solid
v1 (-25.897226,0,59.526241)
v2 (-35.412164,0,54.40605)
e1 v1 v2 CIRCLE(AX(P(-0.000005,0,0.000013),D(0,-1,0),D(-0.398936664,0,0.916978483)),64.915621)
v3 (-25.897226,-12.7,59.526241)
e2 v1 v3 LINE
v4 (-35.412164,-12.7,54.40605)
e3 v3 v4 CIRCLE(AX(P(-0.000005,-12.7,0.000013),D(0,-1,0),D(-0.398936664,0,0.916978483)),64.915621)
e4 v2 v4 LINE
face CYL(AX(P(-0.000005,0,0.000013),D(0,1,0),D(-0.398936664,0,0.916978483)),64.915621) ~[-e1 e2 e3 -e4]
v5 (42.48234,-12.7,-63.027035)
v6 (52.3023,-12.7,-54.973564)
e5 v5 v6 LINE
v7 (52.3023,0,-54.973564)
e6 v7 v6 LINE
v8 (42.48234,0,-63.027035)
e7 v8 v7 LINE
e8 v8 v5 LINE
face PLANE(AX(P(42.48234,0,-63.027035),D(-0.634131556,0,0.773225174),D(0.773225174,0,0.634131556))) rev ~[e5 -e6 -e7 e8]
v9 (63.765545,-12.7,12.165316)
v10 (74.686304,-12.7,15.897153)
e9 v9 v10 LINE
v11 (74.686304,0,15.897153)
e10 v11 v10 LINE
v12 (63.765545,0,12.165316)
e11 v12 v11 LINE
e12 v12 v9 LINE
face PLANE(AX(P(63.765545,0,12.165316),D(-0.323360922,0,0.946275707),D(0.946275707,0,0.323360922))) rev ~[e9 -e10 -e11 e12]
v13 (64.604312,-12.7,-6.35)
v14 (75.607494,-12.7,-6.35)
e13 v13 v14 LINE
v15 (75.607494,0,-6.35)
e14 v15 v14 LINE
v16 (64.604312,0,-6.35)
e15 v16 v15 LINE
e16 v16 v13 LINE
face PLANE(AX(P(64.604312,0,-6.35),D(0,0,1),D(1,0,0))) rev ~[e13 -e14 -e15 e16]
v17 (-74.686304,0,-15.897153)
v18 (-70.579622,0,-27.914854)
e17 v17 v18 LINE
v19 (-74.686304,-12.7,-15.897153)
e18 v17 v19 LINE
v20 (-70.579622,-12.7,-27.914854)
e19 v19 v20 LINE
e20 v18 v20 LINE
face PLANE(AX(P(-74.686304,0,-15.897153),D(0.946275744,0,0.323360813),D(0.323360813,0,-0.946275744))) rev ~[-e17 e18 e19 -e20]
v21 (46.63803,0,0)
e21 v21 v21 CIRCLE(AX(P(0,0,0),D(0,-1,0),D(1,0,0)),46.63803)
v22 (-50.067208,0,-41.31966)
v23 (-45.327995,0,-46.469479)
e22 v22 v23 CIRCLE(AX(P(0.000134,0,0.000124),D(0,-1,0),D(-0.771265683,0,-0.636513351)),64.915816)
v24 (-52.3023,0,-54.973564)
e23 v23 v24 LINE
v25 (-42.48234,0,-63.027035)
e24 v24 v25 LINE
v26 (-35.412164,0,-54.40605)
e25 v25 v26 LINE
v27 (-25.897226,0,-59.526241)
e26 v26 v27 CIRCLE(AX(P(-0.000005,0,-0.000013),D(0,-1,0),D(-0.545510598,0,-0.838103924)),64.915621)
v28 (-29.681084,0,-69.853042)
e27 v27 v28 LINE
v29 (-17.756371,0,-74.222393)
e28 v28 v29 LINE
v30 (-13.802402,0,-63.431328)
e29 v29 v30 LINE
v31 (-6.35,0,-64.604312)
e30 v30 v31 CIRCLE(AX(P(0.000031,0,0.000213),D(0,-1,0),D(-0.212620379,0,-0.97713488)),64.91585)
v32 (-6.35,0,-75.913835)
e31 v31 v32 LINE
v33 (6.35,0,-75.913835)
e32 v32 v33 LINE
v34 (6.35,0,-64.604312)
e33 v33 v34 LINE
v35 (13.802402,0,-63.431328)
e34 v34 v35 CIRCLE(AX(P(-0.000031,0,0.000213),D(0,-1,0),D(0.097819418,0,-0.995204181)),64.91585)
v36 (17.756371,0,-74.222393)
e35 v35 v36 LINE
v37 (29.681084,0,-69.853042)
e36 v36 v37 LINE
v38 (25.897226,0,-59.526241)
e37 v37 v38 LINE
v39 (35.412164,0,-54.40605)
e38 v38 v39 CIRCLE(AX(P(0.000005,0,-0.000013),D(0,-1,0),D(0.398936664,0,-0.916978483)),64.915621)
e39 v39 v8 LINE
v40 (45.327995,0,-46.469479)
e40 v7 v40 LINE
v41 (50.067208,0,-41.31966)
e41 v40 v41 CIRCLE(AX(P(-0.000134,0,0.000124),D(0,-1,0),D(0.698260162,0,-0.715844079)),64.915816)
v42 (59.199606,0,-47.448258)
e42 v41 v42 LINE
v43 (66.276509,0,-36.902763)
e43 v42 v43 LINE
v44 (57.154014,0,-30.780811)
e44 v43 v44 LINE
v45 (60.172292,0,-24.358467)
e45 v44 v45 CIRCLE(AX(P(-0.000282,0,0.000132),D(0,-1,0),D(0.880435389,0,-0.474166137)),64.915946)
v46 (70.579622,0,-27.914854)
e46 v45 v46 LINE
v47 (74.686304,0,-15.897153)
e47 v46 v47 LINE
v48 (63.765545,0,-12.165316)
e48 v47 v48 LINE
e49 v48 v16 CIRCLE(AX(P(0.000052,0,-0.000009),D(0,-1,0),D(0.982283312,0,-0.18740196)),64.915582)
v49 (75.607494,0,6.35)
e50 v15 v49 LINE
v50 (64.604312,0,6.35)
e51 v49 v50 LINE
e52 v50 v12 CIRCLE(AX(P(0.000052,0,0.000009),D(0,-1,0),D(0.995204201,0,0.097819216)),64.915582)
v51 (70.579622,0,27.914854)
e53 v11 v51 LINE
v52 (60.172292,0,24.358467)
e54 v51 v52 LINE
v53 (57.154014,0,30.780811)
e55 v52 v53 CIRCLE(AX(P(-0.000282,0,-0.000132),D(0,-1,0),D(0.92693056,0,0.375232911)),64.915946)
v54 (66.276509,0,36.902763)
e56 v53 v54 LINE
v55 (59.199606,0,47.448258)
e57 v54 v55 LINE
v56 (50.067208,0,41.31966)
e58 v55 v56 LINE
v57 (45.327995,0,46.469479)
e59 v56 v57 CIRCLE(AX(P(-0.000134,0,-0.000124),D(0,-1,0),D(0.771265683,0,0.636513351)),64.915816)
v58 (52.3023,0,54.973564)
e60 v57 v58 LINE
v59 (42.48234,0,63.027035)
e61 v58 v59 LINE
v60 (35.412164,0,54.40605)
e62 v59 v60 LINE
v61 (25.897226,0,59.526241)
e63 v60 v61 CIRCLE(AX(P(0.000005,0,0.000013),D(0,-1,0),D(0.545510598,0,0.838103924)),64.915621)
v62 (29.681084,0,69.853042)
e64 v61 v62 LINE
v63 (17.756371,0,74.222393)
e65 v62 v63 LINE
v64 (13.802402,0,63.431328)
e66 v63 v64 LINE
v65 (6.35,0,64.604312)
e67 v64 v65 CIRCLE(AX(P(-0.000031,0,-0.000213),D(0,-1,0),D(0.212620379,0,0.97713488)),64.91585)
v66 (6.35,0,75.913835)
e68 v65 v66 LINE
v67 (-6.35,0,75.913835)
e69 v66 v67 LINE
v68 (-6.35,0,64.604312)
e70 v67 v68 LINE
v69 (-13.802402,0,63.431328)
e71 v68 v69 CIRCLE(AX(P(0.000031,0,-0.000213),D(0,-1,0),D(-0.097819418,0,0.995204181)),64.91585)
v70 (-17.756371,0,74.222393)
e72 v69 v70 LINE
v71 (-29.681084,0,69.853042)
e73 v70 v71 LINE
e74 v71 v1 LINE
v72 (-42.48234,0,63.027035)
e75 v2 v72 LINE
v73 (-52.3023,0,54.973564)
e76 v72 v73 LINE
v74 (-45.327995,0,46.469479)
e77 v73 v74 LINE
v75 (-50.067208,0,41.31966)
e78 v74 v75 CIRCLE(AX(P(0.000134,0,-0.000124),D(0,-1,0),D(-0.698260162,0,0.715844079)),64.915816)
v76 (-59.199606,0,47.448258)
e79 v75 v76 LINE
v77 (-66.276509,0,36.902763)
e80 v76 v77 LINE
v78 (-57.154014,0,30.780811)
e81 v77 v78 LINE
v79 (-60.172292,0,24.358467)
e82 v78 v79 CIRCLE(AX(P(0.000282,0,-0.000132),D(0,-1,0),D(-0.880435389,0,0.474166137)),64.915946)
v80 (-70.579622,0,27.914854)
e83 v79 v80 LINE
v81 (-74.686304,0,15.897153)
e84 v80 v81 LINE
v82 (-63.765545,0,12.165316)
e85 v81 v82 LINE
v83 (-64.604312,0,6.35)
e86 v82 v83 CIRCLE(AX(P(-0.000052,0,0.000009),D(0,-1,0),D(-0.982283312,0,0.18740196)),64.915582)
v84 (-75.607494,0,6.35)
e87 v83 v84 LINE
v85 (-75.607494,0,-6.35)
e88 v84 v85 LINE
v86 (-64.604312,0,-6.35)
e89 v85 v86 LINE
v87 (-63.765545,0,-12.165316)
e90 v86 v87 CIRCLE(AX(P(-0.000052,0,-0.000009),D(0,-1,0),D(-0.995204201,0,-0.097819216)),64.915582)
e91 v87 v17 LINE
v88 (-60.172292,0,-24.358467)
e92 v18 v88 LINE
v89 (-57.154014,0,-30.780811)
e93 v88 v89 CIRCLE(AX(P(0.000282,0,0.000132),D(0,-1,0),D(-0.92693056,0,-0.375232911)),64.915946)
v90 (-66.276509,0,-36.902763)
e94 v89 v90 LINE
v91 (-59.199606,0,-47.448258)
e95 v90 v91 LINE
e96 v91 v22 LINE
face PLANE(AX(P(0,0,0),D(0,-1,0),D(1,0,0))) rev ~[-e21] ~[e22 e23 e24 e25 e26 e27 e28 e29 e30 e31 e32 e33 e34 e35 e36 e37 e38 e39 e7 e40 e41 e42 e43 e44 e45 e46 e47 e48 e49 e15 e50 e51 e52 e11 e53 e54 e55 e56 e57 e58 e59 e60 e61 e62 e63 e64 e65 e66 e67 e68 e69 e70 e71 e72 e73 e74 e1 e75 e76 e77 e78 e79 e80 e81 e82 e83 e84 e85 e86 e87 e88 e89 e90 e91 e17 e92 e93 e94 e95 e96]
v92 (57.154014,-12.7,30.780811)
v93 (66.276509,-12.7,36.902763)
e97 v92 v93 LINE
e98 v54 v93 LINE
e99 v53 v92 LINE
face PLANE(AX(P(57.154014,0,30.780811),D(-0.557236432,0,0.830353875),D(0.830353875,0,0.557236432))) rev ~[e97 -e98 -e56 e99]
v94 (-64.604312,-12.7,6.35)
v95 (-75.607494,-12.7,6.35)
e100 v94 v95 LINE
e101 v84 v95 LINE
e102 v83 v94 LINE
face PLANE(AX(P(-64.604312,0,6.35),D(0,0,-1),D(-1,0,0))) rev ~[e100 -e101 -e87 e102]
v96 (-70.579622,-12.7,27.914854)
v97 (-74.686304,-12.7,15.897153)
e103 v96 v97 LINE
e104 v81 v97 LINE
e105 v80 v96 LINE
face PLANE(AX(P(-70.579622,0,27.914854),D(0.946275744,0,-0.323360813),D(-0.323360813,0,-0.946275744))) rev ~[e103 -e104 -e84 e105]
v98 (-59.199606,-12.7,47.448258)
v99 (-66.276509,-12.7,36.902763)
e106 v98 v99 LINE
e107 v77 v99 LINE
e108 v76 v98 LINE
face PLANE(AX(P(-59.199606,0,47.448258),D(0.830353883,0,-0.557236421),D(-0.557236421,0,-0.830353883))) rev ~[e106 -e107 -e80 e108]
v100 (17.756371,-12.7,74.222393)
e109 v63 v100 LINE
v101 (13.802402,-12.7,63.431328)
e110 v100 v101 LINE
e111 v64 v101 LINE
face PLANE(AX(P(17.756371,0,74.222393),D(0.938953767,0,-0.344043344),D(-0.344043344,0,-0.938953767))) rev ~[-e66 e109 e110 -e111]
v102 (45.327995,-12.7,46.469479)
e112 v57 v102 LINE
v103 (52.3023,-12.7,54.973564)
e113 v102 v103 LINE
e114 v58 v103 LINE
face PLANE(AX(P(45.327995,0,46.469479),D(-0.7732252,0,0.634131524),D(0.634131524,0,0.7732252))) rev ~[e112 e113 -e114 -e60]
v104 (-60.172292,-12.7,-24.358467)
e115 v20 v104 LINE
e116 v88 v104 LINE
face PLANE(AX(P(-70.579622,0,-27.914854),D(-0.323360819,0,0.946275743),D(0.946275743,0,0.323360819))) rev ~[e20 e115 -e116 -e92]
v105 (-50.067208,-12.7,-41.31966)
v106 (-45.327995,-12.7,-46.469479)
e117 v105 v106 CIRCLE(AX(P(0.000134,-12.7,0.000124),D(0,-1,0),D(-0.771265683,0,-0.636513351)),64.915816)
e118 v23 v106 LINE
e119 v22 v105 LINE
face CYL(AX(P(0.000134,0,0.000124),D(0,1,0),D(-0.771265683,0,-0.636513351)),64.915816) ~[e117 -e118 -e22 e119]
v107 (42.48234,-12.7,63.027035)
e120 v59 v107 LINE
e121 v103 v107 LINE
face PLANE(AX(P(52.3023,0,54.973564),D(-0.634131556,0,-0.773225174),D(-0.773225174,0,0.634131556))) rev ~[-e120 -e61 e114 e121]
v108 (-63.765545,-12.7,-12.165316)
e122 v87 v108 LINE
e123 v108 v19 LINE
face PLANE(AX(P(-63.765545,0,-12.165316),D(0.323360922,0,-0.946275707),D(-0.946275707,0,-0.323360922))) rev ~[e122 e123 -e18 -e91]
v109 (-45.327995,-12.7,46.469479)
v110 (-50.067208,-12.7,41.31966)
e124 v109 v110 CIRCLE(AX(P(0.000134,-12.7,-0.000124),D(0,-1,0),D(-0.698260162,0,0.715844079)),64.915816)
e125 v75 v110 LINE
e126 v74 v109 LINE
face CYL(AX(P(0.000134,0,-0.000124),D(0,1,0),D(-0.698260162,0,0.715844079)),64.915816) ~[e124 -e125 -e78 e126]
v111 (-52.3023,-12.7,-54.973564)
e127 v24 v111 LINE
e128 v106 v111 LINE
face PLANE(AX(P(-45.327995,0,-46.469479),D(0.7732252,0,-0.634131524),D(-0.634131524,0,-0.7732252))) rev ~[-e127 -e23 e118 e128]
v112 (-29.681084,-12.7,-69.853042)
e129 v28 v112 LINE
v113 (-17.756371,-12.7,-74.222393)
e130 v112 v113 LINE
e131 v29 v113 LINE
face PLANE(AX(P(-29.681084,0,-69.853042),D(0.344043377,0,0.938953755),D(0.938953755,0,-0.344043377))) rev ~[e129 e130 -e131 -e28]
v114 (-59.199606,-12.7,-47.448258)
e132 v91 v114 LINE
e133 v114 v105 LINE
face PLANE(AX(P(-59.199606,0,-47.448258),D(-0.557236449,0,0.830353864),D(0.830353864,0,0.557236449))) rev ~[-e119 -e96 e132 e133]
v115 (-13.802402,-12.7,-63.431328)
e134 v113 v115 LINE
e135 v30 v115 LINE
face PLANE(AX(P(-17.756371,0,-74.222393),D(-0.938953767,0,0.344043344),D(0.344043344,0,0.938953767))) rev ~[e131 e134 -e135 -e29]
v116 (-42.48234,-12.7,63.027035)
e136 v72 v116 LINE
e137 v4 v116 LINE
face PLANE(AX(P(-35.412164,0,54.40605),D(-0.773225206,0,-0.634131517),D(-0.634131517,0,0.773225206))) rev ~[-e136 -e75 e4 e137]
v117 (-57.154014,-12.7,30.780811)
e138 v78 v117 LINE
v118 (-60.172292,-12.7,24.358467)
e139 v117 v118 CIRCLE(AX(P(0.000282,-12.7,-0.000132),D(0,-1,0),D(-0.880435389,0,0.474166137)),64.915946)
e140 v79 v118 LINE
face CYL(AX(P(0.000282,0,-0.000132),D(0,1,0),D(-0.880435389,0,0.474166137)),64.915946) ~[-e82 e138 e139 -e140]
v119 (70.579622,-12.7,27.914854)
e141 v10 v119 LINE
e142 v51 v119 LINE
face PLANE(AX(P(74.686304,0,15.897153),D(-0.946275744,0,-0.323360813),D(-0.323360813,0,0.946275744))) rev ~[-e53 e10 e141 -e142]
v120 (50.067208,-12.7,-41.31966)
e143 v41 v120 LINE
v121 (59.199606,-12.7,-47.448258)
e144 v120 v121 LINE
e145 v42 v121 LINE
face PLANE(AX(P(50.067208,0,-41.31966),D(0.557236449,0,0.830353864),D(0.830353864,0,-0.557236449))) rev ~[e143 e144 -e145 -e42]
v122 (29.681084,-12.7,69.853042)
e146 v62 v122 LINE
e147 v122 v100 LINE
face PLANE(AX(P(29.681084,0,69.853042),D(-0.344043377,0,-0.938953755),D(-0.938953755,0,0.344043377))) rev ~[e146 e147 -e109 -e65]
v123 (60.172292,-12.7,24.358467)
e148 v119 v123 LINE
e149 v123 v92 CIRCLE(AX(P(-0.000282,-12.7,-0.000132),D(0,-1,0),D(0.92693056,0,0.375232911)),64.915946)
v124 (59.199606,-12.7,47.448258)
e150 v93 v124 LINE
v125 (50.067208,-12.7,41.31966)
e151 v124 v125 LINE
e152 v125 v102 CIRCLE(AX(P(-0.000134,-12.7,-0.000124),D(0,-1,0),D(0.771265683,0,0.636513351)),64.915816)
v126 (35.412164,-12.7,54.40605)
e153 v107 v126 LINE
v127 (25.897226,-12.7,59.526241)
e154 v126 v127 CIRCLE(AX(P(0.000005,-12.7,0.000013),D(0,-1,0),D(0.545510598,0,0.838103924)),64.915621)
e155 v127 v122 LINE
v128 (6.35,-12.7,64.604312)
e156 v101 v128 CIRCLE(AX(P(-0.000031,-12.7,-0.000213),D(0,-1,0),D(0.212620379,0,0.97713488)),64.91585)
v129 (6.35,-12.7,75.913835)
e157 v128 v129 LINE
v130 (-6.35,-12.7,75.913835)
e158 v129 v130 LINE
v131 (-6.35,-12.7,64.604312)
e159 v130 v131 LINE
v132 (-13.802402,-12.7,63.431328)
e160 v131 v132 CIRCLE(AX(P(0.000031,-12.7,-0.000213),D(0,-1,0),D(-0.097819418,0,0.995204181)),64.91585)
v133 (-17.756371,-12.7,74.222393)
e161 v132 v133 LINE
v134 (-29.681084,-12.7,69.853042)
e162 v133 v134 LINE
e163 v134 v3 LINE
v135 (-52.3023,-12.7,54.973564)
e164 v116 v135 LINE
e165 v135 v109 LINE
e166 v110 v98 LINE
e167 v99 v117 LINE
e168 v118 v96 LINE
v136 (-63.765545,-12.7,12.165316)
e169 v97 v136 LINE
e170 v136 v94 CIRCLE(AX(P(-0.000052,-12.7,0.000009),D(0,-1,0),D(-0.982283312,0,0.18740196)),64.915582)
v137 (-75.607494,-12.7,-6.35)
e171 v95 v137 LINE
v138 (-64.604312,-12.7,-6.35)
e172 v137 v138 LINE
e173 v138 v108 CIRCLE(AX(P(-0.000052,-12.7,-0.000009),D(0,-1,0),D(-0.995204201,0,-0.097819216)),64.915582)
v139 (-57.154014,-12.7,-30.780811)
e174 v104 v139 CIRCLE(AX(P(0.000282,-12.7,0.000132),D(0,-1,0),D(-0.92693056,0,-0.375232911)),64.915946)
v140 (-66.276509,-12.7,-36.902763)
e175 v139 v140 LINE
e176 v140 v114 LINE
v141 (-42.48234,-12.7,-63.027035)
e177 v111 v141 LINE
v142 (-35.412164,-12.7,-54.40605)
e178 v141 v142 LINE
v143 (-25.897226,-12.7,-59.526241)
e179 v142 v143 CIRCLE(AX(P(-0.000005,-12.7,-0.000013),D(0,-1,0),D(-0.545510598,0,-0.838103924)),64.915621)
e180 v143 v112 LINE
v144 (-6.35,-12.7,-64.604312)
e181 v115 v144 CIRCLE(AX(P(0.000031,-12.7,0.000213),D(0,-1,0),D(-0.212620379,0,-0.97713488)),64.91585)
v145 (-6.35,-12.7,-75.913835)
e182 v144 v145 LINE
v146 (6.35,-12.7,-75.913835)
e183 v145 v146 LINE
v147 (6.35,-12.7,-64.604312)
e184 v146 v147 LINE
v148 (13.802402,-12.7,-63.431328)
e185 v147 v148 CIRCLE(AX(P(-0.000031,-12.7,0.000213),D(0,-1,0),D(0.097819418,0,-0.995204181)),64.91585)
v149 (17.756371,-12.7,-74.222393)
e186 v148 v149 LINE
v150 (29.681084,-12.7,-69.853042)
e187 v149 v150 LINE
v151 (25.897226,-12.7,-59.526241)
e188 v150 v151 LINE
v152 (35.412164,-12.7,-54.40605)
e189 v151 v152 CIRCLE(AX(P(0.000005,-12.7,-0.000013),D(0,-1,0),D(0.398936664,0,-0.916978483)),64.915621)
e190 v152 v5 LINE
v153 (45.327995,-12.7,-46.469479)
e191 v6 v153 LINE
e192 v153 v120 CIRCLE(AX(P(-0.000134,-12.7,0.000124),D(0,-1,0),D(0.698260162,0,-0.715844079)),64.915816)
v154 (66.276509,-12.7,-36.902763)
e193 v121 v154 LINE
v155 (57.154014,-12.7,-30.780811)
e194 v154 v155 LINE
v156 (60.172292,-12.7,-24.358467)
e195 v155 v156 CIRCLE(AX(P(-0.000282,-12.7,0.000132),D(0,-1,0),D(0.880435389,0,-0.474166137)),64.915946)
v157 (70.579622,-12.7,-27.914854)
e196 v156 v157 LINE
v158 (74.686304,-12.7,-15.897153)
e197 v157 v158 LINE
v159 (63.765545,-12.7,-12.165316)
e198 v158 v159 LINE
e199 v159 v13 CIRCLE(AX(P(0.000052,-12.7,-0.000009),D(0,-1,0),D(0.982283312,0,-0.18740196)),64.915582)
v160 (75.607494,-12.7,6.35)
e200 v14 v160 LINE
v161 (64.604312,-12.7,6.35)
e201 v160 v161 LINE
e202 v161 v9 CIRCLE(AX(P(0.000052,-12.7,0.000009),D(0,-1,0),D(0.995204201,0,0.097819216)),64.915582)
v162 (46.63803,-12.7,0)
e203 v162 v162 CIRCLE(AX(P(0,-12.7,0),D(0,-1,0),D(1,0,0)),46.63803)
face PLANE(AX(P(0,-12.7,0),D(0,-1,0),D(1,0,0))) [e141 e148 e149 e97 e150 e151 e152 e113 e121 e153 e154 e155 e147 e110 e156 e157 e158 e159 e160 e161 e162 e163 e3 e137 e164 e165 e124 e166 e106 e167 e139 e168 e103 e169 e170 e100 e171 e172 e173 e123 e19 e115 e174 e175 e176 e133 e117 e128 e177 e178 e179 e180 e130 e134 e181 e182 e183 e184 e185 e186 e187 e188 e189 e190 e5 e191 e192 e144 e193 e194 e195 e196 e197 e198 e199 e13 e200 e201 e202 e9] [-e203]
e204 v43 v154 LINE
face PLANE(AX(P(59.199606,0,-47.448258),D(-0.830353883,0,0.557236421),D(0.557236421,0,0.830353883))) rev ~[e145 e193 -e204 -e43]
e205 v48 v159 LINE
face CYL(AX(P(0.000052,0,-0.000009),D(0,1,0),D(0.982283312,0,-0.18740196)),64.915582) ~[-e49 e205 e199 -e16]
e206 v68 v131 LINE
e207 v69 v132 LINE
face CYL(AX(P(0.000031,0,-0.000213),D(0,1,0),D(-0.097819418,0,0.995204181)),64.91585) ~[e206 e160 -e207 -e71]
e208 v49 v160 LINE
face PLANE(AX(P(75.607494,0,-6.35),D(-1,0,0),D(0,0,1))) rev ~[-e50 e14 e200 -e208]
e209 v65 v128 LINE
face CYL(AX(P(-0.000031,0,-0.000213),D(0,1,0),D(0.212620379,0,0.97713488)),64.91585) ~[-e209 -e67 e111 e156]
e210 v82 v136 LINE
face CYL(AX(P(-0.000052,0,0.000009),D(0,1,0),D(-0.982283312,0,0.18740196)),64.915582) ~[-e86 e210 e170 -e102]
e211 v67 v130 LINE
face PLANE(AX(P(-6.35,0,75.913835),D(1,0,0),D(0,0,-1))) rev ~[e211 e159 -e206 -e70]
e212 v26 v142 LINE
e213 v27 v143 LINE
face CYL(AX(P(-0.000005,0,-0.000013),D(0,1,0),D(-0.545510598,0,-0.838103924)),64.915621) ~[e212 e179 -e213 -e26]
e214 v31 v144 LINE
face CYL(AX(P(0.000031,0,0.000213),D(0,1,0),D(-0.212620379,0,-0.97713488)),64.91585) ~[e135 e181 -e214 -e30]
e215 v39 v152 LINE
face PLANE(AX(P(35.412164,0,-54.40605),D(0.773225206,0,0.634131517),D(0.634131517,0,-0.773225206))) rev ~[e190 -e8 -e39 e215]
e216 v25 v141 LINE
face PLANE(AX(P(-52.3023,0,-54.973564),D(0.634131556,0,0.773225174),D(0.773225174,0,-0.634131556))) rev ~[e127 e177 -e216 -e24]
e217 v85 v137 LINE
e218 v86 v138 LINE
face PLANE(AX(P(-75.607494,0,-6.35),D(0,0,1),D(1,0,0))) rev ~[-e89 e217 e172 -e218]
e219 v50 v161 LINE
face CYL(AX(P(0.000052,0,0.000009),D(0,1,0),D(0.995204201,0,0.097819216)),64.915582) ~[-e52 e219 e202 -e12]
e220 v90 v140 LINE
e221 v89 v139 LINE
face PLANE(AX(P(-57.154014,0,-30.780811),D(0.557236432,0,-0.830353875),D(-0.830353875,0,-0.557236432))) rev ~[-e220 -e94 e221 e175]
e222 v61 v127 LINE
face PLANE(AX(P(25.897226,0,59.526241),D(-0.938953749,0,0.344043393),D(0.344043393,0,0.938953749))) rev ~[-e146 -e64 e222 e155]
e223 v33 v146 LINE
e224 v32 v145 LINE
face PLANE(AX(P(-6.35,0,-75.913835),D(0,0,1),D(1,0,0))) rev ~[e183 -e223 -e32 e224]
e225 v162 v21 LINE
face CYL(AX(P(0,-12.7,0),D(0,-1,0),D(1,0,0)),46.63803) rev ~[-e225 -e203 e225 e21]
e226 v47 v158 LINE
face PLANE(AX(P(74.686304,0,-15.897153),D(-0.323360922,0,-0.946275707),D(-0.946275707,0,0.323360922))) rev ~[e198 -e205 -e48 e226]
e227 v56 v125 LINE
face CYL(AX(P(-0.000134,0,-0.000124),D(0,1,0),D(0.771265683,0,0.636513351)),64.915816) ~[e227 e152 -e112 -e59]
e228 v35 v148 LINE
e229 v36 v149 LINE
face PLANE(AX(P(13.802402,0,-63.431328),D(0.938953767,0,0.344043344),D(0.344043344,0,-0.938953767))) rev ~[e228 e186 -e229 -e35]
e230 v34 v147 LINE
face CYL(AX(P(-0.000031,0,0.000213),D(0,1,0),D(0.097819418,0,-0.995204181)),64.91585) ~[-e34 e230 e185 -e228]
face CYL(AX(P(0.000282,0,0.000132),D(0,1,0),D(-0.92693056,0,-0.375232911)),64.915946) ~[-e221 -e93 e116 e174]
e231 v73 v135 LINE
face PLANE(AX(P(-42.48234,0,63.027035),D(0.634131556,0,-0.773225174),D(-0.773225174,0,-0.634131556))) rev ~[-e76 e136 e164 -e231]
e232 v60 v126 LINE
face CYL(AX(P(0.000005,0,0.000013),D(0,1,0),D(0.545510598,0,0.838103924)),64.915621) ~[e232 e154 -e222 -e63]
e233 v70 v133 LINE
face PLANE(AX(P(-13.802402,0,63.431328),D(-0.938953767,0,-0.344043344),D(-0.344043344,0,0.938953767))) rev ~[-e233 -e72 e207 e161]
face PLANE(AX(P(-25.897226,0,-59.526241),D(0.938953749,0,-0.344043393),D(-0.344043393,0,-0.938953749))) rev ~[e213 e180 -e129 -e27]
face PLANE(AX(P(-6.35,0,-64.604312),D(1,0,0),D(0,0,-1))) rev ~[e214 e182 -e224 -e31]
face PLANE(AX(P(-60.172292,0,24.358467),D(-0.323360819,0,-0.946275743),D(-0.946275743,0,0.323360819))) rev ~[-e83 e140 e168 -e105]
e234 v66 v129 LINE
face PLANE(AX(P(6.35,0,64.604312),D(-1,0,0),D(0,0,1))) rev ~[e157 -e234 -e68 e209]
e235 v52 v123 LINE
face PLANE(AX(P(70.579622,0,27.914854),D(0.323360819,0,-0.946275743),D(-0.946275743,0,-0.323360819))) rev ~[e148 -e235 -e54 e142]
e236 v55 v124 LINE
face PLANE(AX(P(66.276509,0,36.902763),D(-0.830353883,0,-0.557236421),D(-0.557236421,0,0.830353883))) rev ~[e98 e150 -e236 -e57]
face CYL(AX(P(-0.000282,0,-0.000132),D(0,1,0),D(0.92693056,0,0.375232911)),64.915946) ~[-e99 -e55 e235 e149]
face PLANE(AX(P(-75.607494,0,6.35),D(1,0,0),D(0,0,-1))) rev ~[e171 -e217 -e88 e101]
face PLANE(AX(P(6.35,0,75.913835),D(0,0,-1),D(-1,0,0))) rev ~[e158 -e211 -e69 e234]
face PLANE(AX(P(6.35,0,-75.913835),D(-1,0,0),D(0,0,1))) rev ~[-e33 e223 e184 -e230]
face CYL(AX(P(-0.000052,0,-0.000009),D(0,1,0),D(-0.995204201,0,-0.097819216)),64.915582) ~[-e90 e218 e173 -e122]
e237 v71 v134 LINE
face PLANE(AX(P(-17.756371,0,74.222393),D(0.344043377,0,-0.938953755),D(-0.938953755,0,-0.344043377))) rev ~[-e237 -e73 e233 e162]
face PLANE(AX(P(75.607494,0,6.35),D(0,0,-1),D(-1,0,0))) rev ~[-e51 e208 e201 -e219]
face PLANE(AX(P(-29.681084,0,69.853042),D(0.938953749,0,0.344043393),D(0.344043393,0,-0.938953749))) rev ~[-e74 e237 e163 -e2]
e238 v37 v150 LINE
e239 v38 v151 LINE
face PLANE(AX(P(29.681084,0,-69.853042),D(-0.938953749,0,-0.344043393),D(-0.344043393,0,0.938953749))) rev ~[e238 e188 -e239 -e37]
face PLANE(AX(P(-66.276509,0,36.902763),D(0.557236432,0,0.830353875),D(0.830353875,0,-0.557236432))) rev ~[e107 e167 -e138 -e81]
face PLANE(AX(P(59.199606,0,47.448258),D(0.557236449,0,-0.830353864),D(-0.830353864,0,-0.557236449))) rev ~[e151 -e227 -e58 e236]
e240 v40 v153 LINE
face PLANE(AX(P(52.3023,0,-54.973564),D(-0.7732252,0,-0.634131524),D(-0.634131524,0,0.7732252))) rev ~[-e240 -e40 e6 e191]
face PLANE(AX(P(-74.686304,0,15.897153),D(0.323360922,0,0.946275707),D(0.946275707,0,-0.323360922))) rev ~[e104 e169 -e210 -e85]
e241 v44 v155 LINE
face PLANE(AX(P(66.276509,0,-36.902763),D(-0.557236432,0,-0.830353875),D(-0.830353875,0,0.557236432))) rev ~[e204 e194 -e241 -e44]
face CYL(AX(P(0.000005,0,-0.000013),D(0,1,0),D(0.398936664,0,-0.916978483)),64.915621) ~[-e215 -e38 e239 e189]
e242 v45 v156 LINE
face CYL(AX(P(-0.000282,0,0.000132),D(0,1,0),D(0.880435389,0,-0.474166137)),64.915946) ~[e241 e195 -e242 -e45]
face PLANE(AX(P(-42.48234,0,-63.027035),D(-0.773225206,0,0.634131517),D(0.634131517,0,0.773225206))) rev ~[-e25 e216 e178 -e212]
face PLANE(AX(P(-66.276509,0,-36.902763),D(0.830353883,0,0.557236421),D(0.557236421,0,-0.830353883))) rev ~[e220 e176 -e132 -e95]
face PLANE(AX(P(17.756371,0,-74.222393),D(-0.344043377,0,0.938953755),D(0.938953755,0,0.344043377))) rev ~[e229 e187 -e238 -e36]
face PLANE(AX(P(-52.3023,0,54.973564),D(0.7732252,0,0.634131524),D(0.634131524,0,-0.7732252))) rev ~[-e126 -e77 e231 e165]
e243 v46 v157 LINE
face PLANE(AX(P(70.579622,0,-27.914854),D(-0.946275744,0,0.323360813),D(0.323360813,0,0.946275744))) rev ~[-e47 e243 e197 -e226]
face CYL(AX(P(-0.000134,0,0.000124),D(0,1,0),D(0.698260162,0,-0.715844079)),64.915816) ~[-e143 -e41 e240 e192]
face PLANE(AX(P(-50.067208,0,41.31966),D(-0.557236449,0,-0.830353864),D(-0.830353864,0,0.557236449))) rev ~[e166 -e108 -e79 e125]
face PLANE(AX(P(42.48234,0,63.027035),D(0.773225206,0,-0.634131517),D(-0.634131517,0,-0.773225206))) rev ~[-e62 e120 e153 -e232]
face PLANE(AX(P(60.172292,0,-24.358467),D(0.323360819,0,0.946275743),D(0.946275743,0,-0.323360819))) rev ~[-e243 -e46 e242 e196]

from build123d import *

# Parameters (mm, degrees)
F1_DEPTH = 12.7
F2_R     = 46.63803
F3_DEPTH = 25.4


with BuildPart() as f1:
    # F0 (on Front) → F1 (new body)
    with BuildSketch(Plane.XZ):
        with BuildLine():
            ThreePointArc((-63.765545, 12.165316), (-64.250755, 9.267153), (-64.604312, 6.35))
            Line((-64.604312, 6.35), (-75.607494, 6.35))
            Line((-75.607494, 6.35), (-75.607494, 0))
            Line((-75.607494, 0), (-75.607494, -6.35))
            Line((-75.607494, -6.35), (-64.604312, -6.35))
            ThreePointArc((-64.604312, -6.35), (-64.250755, -9.267153), (-63.765545, -12.165316))
            Line((-63.765545, -12.165316), (-74.686304, -15.897153))
            Line((-74.686304, -15.897153), (-70.579622, -27.914854))
            Line((-70.579622, -27.914854), (-60.172292, -24.358467))
            ThreePointArc((-60.172292, -24.358467), (-58.750975, -27.610913), (-57.154014, -30.780811))
            Line((-57.154014, -30.780811), (-66.276509, -36.902763))
            Line((-66.276509, -36.902763), (-59.199606, -47.448258))
            Line((-59.199606, -47.448258), (-50.067208, -41.31966))
            ThreePointArc((-50.067208, -41.31966), (-47.767053, -43.958483), (-45.327995, -46.469479))
            Line((-45.327995, -46.469479), (-52.3023, -54.973564))
            Line((-52.3023, -54.973564), (-42.48234, -63.027035))
            Line((-42.48234, -63.027035), (-35.412164, -54.40605))
            ThreePointArc((-35.412164, -54.40605), (-30.761411, -57.164458), (-25.897226, -59.526241))
            Line((-25.897226, -59.526241), (-29.681084, -69.853042))
            Line((-29.681084, -69.853042), (-17.756371, -74.222393))
            Line((-17.756371, -74.222393), (-13.802402, -63.431328))
            ThreePointArc((-13.802402, -63.431328), (-10.093255, -64.126171), (-6.35, -64.604312))
            Line((-6.35, -64.604312), (-6.35, -75.913835))
            Line((-6.35, -75.913835), (0, -75.913835))
            Line((0, -75.913835), (6.35, -75.913835))
            Line((6.35, -75.913835), (6.35, -64.604312))
            ThreePointArc((6.35, -64.604312), (10.093255, -64.126171), (13.802402, -63.431328))
            Line((13.802402, -63.431328), (17.756371, -74.222393))
            Line((17.756371, -74.222393), (29.681084, -69.853042))
            Line((29.681084, -69.853042), (25.897226, -59.526241))
            ThreePointArc((25.897226, -59.526241), (30.761411, -57.164458), (35.412164, -54.40605))
            Line((35.412164, -54.40605), (42.48234, -63.027035))
            Line((42.48234, -63.027035), (52.3023, -54.973564))
            Line((52.3023, -54.973564), (45.327995, -46.469479))
            ThreePointArc((45.327995, -46.469479), (47.767053, -43.958483), (50.067208, -41.31966))
            Line((50.067208, -41.31966), (59.199606, -47.448258))
            Line((59.199606, -47.448258), (66.276509, -36.902763))
            Line((66.276509, -36.902763), (57.154014, -30.780811))
            ThreePointArc((57.154014, -30.780811), (58.750975, -27.610913), (60.172292, -24.358467))
            Line((60.172292, -24.358467), (70.579622, -27.914854))
            Line((70.579622, -27.914854), (74.686304, -15.897153))
            Line((74.686304, -15.897153), (63.765545, -12.165316))
            ThreePointArc((63.765545, -12.165316), (64.250755, -9.267153), (64.604312, -6.35))
            Line((64.604312, -6.35), (75.607494, -6.35))
            Line((75.607494, -6.35), (75.607494, 0))
            Line((75.607494, 0), (75.607494, 6.35))
            Line((75.607494, 6.35), (64.604312, 6.35))
            ThreePointArc((64.604312, 6.35), (64.250755, 9.267153), (63.765545, 12.165316))
            Line((63.765545, 12.165316), (74.686304, 15.897153))
            Line((74.686304, 15.897153), (70.579622, 27.914854))
            Line((70.579622, 27.914854), (60.172292, 24.358467))
            ThreePointArc((60.172292, 24.358467), (58.750975, 27.610913), (57.154014, 30.780811))
            Line((57.154014, 30.780811), (66.276509, 36.902763))
            Line((66.276509, 36.902763), (59.199606, 47.448258))
            Line((59.199606, 47.448258), (50.067208, 41.31966))
            ThreePointArc((50.067208, 41.31966), (47.767053, 43.958483), (45.327995, 46.469479))
            Line((45.327995, 46.469479), (52.3023, 54.973564))
            Line((52.3023, 54.973564), (42.48234, 63.027035))
            Line((42.48234, 63.027035), (35.412164, 54.40605))
            ThreePointArc((35.412164, 54.40605), (30.761411, 57.164458), (25.897226, 59.526241))
            Line((25.897226, 59.526241), (29.681084, 69.853042))
            Line((29.681084, 69.853042), (17.756371, 74.222393))
            Line((17.756371, 74.222393), (13.802402, 63.431328))
            ThreePointArc((13.802402, 63.431328), (10.093255, 64.126171), (6.35, 64.604312))
            Line((6.35, 64.604312), (6.35, 75.913835))
            Line((6.35, 75.913835), (0, 75.913835))
            Line((0, 75.913835), (-6.35, 75.913835))
            Line((-6.35, 75.913835), (-6.35, 64.604312))
            ThreePointArc((-6.35, 64.604312), (-10.093255, 64.126171), (-13.802402, 63.431328))
            Line((-13.802402, 63.431328), (-17.756371, 74.222393))
            Line((-17.756371, 74.222393), (-29.681084, 69.853042))
            Line((-29.681084, 69.853042), (-25.897226, 59.526241))
            ThreePointArc((-25.897226, 59.526241), (-30.761411, 57.164458), (-35.412164, 54.40605))
            Line((-35.412164, 54.40605), (-42.48234, 63.027035))
            Line((-42.48234, 63.027035), (-52.3023, 54.973564))
            Line((-52.3023, 54.973564), (-45.327995, 46.469479))
            ThreePointArc((-45.327995, 46.469479), (-47.767053, 43.958483), (-50.067208, 41.31966))
            Line((-50.067208, 41.31966), (-59.199606, 47.448258))
            Line((-59.199606, 47.448258), (-66.276509, 36.902763))
            Line((-66.276509, 36.902763), (-57.154014, 30.780811))
            ThreePointArc((-57.154014, 30.780811), (-58.750975, 27.610913), (-60.172292, 24.358467))
            Line((-60.172292, 24.358467), (-70.579622, 27.914854))
            Line((-70.579622, 27.914854), (-74.686304, 15.897153))
            Line((-74.686304, 15.897153), (-63.765545, 12.165316))
        make_face()
    extrude(amount=F1_DEPTH)

    # F2 (on face) → F3 (cut)
    with BuildSketch(Plane.XZ.offset(12.7)):
        Circle(F2_R)
    extrude(amount=-F3_DEPTH, mode=Mode.SUBTRACT)


solid = f1.part
